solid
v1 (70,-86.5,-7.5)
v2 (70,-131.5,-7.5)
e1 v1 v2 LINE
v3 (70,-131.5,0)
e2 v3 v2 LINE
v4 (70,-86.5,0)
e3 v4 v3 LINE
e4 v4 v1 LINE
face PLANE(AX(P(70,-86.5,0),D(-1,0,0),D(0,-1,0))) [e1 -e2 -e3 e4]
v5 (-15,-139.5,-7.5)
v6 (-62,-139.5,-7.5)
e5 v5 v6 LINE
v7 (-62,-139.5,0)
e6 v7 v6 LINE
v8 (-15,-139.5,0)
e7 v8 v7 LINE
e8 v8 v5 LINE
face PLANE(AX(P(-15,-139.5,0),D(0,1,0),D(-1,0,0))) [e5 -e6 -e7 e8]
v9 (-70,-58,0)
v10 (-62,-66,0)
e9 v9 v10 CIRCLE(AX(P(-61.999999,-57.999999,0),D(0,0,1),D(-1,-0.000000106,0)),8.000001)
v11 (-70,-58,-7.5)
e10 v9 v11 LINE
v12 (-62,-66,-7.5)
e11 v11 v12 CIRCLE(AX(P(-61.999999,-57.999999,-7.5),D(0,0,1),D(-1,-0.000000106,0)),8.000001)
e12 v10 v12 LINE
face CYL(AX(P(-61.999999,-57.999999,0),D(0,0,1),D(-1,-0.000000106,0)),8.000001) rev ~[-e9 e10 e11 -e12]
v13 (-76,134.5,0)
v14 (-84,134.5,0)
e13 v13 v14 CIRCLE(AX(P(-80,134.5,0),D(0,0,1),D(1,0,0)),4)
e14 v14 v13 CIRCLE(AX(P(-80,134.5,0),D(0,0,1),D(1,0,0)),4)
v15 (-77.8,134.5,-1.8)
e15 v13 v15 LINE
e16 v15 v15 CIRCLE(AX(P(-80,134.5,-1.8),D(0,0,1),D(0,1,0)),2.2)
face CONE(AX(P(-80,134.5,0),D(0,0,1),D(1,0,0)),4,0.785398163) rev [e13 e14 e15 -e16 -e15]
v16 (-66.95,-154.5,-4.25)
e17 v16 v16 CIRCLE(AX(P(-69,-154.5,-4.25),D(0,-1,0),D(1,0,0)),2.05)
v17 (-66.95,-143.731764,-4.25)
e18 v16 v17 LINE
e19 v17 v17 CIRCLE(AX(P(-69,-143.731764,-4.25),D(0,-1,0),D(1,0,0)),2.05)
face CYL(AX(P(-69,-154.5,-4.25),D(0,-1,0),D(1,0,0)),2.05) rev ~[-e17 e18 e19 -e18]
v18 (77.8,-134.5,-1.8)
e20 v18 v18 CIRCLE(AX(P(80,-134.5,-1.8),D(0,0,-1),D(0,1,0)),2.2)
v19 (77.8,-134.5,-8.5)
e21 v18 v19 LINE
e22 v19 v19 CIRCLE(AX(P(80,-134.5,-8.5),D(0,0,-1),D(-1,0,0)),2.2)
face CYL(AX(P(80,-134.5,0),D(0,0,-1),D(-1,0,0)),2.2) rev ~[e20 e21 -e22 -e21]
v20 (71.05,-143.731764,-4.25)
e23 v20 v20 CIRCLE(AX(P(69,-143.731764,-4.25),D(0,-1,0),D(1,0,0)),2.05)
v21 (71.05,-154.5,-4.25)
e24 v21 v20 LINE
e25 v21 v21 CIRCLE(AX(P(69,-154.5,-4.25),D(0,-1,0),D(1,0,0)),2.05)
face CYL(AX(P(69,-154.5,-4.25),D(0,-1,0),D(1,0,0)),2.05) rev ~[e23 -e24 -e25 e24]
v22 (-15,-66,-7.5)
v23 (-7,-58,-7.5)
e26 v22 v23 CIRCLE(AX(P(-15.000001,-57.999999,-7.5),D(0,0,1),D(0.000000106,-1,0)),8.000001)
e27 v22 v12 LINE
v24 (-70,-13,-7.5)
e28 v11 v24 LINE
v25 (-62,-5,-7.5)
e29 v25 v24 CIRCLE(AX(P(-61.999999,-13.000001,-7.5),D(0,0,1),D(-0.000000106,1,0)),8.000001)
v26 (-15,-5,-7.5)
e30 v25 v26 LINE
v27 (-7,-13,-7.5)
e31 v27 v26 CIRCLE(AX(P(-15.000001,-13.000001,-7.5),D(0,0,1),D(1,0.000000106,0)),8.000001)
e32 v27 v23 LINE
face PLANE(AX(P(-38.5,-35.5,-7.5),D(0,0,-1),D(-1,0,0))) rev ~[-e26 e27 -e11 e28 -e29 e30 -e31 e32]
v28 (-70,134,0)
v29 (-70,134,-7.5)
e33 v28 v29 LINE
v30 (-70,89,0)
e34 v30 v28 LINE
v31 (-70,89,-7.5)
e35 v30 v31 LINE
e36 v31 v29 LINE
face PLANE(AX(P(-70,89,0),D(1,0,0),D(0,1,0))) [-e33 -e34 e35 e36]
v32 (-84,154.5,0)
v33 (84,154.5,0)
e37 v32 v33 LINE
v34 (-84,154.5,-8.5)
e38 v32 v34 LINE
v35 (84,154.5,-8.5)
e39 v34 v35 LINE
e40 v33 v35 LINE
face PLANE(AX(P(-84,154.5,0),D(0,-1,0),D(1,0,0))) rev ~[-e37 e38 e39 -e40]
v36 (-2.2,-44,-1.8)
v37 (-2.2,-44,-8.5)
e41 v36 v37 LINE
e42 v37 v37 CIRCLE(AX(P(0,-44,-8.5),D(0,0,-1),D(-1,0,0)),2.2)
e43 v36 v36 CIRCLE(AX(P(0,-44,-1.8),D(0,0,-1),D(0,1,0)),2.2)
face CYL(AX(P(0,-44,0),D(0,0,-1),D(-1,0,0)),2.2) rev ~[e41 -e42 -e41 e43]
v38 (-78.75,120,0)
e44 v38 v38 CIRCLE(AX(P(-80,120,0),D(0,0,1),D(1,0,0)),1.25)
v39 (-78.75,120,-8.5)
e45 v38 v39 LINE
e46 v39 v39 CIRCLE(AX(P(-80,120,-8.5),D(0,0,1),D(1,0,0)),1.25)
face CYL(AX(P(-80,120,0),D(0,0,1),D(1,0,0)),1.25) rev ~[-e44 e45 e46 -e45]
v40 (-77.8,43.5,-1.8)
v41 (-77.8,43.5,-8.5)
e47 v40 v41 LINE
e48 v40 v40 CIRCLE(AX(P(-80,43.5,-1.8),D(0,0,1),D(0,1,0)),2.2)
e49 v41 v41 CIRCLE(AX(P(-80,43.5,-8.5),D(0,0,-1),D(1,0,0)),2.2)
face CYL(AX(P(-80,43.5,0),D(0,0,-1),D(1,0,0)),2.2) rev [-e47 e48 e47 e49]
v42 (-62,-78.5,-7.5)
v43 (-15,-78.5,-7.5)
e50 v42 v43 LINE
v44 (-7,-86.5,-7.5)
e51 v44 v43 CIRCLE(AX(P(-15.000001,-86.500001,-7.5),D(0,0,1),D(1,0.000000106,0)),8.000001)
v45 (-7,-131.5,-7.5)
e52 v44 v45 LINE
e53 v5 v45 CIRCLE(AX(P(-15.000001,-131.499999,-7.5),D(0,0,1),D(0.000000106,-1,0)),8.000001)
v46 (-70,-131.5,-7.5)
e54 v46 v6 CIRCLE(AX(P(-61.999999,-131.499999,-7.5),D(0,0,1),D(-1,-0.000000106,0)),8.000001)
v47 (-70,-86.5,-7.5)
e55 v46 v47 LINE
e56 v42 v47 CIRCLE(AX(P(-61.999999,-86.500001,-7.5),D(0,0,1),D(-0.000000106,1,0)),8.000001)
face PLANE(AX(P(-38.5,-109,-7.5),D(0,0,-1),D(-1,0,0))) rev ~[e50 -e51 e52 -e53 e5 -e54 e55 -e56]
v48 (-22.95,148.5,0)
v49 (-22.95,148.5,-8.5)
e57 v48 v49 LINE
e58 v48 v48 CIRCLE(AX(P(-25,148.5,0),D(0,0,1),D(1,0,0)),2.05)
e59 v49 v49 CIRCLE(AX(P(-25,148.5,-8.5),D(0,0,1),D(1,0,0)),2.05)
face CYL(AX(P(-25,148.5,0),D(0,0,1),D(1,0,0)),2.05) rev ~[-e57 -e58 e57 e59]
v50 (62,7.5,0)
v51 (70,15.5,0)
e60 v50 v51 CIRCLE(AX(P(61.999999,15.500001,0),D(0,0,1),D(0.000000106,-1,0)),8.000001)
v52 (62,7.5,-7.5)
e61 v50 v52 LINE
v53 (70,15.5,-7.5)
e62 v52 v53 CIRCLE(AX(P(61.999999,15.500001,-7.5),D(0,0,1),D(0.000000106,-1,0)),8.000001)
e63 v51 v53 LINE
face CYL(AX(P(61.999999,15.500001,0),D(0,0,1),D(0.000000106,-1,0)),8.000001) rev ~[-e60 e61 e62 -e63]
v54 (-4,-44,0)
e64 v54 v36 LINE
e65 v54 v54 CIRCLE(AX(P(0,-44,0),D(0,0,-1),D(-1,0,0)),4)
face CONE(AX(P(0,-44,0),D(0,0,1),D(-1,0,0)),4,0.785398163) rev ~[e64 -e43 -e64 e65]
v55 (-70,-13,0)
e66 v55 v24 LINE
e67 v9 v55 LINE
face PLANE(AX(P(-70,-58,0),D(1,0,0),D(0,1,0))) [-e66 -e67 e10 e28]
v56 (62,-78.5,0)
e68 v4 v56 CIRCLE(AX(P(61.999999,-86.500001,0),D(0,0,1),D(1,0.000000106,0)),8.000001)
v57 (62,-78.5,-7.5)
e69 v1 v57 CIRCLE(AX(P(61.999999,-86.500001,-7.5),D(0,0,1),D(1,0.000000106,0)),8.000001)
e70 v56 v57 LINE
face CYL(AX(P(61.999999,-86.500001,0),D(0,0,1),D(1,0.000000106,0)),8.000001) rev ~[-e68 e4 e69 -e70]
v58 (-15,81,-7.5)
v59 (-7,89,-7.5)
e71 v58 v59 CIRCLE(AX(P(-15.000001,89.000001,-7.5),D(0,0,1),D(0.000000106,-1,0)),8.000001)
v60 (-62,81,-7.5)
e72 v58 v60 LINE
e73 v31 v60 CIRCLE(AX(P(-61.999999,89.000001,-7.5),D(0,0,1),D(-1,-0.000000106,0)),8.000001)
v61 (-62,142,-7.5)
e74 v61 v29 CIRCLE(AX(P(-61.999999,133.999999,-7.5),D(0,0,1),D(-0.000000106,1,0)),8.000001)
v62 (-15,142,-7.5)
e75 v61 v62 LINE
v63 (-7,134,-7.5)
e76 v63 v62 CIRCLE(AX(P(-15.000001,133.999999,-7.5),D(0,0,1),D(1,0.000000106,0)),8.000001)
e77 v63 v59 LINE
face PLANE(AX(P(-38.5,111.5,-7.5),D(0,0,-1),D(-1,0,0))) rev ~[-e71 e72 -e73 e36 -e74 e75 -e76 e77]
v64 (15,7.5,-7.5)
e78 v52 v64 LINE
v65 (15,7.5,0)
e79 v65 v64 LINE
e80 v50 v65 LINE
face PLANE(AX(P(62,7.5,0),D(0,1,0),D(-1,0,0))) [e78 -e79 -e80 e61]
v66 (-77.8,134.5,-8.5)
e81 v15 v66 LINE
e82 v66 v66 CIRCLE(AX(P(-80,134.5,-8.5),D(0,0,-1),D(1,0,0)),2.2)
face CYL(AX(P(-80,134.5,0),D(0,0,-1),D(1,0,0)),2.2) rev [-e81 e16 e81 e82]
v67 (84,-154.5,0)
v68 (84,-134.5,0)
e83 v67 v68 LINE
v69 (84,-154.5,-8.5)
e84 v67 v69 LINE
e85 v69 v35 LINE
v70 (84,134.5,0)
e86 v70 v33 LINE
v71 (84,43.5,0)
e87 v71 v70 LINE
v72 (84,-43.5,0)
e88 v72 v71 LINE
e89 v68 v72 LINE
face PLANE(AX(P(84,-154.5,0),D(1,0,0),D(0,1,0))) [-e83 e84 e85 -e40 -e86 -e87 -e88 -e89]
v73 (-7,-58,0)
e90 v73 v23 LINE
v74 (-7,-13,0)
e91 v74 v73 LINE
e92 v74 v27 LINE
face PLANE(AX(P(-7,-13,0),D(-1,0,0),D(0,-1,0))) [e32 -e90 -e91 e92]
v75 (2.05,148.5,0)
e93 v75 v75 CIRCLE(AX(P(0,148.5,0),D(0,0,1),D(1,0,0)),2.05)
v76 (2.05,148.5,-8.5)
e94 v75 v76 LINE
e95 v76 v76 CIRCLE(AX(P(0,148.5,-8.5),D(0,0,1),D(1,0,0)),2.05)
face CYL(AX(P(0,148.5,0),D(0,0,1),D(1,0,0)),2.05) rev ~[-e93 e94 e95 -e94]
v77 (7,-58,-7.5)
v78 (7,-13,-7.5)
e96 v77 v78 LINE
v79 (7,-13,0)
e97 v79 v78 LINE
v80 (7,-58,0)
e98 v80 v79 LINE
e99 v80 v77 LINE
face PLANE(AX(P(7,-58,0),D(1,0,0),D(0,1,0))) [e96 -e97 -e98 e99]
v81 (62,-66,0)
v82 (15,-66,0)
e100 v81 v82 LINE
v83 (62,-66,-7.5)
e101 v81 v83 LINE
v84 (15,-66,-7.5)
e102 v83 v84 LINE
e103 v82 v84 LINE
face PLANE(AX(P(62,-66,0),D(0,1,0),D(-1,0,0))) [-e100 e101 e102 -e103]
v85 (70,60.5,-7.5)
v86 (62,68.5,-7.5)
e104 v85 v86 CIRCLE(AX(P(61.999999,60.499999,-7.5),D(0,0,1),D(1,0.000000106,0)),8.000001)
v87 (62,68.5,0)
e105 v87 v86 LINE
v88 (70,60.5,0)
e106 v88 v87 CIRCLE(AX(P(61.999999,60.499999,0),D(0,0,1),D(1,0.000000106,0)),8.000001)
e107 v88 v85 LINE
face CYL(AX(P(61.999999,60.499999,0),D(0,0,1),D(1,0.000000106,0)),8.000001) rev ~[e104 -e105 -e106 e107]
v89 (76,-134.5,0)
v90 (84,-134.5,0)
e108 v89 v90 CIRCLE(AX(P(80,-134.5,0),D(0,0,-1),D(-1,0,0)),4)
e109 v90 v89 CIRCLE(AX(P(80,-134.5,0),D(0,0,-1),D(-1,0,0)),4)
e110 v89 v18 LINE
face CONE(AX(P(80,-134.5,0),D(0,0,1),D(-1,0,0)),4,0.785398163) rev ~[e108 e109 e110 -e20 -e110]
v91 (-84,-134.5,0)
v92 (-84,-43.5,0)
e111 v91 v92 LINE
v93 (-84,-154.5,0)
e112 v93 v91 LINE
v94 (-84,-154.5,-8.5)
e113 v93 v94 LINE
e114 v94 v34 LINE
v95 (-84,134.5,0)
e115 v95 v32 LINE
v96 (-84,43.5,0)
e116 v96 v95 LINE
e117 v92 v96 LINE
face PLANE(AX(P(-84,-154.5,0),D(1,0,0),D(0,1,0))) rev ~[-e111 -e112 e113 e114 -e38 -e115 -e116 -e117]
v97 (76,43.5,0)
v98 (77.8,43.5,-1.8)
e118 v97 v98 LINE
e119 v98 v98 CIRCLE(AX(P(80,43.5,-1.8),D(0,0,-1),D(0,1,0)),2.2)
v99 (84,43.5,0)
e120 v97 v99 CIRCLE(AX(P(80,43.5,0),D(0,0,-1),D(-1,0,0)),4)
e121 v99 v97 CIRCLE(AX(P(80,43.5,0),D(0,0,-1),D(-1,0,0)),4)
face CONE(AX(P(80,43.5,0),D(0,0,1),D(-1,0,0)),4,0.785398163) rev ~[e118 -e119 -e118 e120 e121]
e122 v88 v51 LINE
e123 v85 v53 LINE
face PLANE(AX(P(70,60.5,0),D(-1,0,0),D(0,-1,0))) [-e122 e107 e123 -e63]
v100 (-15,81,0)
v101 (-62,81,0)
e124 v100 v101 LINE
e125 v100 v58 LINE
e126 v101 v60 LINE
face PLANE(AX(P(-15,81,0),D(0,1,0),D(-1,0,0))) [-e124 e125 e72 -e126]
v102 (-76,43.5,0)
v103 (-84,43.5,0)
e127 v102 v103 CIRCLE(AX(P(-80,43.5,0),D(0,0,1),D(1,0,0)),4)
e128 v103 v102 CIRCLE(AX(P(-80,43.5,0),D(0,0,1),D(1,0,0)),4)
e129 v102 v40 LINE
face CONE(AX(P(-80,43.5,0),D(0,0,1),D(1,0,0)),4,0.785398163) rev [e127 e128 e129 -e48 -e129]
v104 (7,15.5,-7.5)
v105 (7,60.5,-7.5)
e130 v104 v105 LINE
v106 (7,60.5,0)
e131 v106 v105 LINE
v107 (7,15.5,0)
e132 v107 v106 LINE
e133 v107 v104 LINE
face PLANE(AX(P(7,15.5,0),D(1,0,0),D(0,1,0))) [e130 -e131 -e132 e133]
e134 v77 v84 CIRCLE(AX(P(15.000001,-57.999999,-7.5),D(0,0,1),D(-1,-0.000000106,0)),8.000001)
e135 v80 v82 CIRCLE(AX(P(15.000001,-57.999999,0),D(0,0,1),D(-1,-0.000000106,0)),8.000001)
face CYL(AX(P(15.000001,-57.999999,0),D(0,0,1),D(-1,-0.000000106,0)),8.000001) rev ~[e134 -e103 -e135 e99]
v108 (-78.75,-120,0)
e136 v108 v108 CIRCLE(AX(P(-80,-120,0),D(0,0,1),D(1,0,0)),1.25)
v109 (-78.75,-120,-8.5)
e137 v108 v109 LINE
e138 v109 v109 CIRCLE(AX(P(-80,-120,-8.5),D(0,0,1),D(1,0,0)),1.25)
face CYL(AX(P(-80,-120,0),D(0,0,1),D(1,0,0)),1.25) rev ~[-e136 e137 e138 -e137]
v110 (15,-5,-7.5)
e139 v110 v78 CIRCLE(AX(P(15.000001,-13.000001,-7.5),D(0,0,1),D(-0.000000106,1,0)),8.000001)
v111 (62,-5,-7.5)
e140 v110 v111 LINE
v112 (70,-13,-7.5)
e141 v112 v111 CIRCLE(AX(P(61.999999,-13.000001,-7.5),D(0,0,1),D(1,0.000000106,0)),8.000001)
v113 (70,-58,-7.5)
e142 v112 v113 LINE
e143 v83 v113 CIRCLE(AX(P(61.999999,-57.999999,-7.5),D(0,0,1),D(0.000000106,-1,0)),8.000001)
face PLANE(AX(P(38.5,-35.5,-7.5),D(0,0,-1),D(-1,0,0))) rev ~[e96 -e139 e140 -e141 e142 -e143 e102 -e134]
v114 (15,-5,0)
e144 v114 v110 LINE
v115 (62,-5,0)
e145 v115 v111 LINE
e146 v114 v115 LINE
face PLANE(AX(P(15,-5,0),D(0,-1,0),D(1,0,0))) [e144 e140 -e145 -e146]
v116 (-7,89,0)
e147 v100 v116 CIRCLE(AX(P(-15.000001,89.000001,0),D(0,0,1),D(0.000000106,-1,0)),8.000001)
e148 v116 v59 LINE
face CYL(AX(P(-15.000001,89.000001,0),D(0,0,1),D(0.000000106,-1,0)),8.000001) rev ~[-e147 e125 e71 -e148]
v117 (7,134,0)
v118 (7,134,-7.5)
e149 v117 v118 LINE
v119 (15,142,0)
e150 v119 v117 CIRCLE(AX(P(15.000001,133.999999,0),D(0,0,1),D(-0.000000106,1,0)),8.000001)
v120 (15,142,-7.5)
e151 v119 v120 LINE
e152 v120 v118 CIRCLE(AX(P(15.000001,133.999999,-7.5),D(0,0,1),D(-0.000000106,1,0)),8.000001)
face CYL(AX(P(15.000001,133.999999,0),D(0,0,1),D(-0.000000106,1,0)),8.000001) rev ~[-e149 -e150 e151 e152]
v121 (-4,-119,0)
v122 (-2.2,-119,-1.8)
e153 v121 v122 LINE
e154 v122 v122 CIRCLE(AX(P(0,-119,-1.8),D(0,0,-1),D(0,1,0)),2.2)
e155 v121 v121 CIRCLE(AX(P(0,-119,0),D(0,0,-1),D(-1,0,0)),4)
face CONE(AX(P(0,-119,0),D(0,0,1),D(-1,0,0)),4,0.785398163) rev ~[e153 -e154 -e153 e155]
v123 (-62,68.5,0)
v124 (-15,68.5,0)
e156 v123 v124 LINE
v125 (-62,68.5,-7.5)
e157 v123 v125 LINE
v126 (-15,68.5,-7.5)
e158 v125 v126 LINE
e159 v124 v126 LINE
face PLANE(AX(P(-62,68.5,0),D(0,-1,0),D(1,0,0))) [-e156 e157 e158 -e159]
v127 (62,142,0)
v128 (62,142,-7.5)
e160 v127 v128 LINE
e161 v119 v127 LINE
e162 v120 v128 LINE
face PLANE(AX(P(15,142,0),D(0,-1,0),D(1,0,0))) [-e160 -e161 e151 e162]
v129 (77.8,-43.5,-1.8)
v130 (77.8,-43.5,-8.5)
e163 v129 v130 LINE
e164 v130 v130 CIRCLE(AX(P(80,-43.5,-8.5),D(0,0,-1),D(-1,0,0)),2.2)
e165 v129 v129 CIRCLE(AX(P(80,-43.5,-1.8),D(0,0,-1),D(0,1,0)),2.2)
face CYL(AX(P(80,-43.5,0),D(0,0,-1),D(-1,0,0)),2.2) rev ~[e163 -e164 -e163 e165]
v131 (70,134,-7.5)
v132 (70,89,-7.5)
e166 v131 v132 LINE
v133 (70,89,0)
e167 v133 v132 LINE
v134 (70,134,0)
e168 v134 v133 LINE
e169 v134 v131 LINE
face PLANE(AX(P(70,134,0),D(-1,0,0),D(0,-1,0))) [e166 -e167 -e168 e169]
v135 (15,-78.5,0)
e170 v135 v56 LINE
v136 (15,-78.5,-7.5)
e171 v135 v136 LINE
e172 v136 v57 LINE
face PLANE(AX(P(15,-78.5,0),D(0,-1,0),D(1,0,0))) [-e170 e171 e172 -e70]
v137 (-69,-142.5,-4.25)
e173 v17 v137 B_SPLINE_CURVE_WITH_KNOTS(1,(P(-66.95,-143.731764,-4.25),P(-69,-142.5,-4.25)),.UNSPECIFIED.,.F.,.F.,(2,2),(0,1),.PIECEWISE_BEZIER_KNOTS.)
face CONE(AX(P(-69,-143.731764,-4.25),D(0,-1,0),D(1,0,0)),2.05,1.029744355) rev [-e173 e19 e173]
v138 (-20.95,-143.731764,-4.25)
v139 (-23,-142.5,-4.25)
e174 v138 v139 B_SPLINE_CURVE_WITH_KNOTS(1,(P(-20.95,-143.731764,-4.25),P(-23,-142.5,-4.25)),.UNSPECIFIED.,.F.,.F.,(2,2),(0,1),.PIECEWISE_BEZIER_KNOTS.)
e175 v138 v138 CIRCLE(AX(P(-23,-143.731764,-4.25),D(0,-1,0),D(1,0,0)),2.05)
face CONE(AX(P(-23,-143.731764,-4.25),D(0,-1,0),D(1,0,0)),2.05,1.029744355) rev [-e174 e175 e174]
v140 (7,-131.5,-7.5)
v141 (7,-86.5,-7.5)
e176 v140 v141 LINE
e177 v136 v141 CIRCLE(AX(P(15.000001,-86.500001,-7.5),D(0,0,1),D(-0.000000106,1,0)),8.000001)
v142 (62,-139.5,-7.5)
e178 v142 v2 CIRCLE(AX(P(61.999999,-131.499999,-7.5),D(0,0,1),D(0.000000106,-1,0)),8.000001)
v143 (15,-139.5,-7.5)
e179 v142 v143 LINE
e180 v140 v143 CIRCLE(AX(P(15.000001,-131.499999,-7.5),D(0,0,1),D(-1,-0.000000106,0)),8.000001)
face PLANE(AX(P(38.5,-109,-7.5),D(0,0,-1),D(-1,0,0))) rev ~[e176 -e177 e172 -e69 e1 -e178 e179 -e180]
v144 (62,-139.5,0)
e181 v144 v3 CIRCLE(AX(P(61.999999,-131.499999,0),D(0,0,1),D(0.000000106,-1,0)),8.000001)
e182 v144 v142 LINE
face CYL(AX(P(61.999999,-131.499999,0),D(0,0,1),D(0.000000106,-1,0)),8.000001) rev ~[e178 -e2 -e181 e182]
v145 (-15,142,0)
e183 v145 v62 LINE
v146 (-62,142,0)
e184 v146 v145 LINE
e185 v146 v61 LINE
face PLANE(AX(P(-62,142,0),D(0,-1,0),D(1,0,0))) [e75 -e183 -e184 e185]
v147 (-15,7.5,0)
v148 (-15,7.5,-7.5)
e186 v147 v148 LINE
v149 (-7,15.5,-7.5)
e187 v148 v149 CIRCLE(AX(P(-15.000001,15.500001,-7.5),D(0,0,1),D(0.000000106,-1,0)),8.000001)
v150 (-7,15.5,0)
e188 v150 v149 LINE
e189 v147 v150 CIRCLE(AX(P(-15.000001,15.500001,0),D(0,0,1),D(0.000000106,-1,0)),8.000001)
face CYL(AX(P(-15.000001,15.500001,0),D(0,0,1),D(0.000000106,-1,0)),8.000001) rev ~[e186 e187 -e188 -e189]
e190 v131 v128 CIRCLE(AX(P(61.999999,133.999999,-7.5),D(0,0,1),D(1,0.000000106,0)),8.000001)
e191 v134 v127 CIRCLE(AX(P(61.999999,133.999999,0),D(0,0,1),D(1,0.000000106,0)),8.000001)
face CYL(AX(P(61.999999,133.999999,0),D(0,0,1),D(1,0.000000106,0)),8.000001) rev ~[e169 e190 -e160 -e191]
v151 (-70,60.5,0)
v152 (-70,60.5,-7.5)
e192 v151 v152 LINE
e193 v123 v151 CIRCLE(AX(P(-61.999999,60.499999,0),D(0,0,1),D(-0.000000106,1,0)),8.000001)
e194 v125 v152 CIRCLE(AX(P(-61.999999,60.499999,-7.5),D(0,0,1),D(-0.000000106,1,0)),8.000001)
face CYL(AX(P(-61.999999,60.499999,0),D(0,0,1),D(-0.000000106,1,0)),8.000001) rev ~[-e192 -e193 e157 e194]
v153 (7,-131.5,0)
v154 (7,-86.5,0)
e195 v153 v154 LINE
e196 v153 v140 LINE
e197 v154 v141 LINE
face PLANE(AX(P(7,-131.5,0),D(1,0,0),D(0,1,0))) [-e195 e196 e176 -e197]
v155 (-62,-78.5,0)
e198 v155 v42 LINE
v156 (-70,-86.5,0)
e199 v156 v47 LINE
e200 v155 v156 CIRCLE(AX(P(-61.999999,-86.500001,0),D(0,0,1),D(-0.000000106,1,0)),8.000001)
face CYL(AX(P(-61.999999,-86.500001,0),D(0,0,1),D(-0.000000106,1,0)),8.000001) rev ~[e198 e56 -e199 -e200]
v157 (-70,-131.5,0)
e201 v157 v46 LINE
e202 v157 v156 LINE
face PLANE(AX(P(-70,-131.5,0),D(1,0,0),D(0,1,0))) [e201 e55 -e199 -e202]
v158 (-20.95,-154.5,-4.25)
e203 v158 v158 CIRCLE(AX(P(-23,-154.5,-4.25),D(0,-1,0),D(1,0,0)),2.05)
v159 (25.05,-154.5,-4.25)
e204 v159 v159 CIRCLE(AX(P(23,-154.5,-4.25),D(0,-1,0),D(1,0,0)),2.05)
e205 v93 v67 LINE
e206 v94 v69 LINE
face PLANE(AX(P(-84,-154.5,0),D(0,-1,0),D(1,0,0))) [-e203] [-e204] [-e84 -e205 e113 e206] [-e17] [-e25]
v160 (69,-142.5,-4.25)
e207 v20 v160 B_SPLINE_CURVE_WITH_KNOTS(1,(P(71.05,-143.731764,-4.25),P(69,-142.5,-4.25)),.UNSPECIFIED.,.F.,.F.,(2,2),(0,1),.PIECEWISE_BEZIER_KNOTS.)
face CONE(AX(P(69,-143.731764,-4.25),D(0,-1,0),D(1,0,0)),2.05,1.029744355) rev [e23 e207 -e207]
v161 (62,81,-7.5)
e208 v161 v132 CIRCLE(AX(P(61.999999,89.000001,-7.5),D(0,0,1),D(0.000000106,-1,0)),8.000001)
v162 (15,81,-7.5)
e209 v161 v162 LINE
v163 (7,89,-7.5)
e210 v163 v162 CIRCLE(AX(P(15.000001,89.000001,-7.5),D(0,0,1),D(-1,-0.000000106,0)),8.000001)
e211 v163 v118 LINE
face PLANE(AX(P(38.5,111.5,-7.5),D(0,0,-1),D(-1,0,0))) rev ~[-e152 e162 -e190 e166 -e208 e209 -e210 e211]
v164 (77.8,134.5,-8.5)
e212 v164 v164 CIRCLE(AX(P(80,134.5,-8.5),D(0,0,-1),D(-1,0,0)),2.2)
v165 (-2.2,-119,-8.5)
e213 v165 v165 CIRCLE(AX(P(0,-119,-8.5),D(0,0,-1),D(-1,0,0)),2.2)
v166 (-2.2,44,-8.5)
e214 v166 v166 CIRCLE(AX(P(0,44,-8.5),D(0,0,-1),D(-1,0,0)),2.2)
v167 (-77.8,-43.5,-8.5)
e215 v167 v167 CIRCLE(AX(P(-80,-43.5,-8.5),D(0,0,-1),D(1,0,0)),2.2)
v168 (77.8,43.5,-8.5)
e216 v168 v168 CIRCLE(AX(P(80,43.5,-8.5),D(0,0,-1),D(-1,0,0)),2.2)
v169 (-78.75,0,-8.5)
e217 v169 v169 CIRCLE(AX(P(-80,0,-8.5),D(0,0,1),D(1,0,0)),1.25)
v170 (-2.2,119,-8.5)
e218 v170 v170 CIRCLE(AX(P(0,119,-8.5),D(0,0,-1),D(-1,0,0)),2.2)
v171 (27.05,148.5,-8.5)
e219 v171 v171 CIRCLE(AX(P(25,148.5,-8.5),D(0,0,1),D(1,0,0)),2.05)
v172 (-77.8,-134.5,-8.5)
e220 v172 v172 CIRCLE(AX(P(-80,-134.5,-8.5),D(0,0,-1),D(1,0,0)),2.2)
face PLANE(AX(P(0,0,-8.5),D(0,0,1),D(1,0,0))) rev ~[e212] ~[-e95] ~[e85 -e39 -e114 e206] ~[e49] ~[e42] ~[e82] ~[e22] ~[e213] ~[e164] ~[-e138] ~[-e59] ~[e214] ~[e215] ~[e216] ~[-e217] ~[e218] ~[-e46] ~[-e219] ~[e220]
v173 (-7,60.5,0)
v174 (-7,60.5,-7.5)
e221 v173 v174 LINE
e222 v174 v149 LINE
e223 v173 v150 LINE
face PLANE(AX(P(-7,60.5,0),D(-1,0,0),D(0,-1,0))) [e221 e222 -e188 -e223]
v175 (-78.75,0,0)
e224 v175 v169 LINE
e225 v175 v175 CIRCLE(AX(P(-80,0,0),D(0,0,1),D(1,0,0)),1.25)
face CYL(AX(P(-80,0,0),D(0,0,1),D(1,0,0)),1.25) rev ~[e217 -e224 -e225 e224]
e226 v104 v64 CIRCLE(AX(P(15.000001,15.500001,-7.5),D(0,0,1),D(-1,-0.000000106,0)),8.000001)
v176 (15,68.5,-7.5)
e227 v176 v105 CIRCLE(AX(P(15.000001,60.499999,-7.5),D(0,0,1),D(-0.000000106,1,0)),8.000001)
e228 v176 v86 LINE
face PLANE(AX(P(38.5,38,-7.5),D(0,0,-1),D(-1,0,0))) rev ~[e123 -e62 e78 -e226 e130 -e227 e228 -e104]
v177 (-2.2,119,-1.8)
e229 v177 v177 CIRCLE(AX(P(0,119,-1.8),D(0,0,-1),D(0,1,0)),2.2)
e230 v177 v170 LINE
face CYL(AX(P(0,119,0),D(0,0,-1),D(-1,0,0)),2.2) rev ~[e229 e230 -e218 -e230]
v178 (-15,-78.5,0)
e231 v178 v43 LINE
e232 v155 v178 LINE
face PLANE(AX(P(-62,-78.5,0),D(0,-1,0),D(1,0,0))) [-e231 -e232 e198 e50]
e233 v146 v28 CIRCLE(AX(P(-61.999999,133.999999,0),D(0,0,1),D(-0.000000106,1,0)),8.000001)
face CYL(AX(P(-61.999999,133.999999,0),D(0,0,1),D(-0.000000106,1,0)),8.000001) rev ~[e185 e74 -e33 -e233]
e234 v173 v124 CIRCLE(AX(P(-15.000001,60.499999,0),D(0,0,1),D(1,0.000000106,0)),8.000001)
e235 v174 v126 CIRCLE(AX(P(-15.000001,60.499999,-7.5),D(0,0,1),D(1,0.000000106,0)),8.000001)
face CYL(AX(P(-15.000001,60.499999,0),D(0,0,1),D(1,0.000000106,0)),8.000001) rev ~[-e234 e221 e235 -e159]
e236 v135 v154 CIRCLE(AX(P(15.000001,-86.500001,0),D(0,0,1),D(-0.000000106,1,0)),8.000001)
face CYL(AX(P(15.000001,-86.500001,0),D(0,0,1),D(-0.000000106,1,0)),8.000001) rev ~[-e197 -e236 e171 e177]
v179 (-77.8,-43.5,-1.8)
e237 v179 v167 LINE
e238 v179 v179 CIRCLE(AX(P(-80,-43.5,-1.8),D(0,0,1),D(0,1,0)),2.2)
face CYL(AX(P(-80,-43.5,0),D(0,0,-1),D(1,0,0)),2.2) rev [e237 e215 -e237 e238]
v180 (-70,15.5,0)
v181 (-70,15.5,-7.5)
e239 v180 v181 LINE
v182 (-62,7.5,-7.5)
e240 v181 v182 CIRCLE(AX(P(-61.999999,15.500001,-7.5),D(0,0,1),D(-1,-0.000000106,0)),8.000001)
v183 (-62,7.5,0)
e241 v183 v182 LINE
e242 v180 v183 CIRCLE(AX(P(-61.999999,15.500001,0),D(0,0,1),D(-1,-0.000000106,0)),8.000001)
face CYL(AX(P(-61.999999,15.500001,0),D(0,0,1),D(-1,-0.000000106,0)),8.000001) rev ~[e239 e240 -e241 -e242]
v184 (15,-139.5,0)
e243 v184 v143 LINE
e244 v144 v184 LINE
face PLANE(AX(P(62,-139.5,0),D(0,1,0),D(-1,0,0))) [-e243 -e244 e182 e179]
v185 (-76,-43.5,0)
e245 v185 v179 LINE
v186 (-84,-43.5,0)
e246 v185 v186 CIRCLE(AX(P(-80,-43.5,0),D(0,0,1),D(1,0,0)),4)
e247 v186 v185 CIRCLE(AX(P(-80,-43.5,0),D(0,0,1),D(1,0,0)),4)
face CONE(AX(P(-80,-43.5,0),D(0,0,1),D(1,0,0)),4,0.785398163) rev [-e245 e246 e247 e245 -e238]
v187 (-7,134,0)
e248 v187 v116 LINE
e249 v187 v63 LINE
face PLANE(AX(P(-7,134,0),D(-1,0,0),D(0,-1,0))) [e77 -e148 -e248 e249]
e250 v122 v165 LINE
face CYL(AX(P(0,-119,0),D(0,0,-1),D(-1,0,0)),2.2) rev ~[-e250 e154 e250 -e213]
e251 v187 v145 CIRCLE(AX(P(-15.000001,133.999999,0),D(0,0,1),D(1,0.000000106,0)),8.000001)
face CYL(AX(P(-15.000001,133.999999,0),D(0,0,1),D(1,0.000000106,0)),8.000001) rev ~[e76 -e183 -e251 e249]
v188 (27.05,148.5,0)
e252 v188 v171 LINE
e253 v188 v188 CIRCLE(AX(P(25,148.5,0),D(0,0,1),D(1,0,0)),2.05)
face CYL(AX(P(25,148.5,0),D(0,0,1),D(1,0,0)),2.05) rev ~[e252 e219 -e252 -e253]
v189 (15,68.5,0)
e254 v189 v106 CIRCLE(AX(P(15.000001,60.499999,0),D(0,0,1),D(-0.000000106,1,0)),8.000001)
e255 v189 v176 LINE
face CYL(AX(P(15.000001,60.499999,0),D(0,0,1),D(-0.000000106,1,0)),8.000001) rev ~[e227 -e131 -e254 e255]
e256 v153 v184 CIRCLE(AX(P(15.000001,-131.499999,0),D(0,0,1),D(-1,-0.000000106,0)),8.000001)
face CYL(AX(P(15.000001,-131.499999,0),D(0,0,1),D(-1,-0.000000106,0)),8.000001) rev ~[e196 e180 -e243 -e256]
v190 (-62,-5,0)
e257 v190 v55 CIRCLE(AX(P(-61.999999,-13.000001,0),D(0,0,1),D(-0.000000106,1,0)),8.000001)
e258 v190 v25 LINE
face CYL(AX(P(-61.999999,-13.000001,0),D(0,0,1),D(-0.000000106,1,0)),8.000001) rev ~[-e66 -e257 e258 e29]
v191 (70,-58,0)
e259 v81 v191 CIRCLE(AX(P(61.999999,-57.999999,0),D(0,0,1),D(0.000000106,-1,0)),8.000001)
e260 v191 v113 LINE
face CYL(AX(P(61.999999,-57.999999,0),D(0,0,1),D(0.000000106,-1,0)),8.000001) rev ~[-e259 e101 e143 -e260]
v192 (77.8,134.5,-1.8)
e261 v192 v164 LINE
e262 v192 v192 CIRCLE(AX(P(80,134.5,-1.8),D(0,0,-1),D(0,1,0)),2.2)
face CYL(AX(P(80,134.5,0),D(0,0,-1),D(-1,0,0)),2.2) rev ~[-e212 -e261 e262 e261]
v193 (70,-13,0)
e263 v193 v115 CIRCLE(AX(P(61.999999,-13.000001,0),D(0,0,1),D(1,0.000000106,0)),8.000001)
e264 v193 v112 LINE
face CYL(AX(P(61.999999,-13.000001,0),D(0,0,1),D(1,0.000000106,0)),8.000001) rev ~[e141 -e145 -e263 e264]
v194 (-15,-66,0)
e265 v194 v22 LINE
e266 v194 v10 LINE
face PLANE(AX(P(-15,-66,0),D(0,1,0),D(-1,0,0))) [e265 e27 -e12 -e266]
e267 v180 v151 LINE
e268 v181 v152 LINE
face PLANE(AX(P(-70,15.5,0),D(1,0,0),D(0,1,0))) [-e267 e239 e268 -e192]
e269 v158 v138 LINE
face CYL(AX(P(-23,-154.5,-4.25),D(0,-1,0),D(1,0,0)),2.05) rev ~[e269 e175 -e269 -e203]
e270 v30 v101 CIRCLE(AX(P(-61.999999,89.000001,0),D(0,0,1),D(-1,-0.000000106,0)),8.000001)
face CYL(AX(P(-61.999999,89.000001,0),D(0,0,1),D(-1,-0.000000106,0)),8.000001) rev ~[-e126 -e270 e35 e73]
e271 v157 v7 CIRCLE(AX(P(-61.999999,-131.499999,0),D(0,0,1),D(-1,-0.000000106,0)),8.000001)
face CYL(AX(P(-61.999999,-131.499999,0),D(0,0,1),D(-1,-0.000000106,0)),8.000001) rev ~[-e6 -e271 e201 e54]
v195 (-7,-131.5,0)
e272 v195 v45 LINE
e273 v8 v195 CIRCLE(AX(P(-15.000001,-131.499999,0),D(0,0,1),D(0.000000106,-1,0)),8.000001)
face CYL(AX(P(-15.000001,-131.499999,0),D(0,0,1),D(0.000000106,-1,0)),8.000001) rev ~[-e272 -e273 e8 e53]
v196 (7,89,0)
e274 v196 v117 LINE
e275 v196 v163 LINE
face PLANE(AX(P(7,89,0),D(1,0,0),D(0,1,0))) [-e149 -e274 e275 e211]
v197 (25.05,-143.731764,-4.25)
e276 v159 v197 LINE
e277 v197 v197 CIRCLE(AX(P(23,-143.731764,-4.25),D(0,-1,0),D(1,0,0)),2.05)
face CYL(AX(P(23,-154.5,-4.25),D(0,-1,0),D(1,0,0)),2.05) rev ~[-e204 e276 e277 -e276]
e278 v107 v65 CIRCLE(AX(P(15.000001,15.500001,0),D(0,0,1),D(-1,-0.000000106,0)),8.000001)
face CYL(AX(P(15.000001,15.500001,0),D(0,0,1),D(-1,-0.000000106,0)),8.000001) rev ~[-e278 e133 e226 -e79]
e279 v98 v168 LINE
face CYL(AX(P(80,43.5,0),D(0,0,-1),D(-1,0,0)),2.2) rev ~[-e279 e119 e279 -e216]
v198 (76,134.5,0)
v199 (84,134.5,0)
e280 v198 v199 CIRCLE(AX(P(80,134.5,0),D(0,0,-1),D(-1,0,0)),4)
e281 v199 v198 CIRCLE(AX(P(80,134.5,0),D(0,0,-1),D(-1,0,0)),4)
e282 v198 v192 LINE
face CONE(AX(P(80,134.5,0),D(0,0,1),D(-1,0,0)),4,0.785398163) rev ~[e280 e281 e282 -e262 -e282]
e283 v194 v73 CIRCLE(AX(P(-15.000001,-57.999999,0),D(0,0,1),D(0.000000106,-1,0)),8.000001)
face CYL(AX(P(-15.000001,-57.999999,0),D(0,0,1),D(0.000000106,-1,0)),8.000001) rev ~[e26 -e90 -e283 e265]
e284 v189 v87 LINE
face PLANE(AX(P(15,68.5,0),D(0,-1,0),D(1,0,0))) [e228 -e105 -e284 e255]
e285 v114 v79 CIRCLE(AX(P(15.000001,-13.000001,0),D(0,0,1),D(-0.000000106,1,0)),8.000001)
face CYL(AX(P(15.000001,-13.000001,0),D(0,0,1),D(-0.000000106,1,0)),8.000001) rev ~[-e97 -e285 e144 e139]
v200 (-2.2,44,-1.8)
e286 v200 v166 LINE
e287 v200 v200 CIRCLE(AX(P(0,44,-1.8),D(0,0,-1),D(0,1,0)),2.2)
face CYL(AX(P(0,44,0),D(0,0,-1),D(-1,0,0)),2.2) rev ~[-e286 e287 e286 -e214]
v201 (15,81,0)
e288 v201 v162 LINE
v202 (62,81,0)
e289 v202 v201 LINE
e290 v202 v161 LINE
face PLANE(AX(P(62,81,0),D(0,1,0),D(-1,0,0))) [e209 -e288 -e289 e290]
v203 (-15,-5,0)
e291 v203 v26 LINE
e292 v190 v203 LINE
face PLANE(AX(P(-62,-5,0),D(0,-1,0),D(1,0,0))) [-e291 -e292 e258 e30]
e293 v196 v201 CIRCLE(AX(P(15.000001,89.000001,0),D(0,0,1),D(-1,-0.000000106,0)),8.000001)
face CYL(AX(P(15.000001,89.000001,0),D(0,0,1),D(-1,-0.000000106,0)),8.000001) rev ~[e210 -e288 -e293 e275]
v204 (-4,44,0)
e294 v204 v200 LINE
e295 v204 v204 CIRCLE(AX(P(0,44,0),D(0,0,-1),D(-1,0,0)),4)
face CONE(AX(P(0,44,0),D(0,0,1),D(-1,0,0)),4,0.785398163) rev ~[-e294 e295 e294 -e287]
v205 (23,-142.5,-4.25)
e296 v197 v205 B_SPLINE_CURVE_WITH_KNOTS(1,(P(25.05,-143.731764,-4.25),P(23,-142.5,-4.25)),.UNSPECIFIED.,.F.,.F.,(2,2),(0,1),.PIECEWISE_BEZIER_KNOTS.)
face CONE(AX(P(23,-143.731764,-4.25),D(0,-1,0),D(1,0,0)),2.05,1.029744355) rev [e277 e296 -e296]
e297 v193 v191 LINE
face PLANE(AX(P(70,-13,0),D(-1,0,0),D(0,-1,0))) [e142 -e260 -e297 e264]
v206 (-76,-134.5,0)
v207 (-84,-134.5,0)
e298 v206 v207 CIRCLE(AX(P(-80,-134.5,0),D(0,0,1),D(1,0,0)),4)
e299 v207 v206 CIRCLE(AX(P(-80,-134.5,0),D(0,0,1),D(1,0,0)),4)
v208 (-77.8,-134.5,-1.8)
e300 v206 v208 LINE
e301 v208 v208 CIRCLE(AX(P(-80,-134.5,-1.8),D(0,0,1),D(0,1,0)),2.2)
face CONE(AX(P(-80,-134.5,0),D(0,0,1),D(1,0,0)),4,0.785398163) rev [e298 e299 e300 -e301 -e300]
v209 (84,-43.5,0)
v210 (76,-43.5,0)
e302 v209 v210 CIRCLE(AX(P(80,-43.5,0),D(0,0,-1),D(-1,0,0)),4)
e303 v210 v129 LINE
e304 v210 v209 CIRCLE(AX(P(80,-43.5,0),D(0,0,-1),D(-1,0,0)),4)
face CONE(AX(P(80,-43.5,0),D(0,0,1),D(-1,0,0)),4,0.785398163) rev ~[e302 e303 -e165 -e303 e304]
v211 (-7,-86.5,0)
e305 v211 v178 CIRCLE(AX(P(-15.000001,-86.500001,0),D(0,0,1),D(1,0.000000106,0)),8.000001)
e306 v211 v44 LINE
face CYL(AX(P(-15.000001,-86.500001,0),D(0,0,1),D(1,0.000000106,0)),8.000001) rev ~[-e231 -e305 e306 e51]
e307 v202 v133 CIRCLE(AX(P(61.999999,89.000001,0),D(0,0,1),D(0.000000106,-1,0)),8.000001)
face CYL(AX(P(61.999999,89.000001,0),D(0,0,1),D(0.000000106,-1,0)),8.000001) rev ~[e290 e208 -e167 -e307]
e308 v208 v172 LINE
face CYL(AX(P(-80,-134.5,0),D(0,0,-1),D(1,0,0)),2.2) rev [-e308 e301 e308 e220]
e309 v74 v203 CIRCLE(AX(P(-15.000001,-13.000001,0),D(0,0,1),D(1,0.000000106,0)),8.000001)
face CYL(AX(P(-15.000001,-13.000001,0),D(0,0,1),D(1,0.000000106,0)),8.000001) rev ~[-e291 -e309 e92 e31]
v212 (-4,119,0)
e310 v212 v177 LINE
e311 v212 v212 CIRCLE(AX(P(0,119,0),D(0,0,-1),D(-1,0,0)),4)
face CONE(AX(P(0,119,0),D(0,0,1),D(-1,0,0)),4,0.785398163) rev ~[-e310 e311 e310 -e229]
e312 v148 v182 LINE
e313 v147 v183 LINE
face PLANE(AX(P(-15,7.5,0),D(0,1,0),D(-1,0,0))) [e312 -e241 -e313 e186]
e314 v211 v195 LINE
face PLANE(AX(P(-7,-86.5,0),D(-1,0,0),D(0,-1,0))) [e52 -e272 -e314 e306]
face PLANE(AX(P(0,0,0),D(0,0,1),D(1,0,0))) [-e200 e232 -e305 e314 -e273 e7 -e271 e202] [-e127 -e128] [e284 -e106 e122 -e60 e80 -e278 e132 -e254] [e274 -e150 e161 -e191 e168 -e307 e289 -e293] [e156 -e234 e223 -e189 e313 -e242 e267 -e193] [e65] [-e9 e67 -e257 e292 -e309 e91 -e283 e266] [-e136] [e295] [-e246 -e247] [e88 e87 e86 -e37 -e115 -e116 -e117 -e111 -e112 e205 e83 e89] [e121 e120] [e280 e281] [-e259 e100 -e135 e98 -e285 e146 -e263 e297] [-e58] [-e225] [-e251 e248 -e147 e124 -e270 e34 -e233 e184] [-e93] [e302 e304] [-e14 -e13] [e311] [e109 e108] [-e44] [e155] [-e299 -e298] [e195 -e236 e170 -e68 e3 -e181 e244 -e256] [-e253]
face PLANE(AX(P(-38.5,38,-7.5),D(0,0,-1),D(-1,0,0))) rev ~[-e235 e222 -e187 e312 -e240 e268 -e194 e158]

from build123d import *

# Parameters (mm, degrees)
SKETCH_W            = 168
SKETCH_H            = 309
PAD_DEPTH           = 8.5
POCKET_DEPTH        = 7.5
HOLE_D              = 4.4
HOLE_DEPTH          = 25
HOLE_CSINK_D        = 8
HOLE_CSINK_ANGLE    = 90
HOLE001_D           = 4.4
HOLE001_DEPTH       = 25
HOLE001_CSINK_D     = 8
HOLE001_CSINK_ANGLE = 90
SKETCH003_R         = 2.05
HOLE002_DEPTH       = 10.768236
HOLE002_TIPS_R      = 2.05
SKETCH005_R         = 2.05
HOLE003_DEPTH       = 8.501
SKETCH006_R         = 1.25
HOLE004_DEPTH       = 25


with BuildPart() as part:
    # Sketch → Pad (new body)
    with BuildSketch(Plane.XY):
        Rectangle(SKETCH_W, SKETCH_H)
    extrude(amount=-PAD_DEPTH)

    # Sketch001 → Pocket (cut)
    with BuildSketch(Plane.XY):
        with BuildLine():
            Line((-62, -78.5), (-15, -78.5))
            ThreePointArc((-7, -86.5), (-9.343146, -80.843146), (-15, -78.5))
            Line((-7, -86.5), (-7, -131.5))
            ThreePointArc((-15, -139.5), (-9.343146, -137.156854), (-7, -131.5))
            Line((-15, -139.5), (-62, -139.5))
            ThreePointArc((-70, -131.5), (-67.656854, -137.156854), (-62, -139.5))
            Line((-70, -131.5), (-70, -86.5))
            ThreePointArc((-62, -78.5), (-67.656854, -80.843146), (-70, -86.5))
        make_face()
        with BuildLine():
            Line((15, -78.5), (62, -78.5))
            ThreePointArc((70, -86.5), (67.656854, -80.843146), (62, -78.5))
            Line((70, -86.5), (70, -131.5))
            ThreePointArc((62, -139.5), (67.656854, -137.156854), (70, -131.5))
            Line((62, -139.5), (15, -139.5))
            ThreePointArc((7, -131.5), (9.343146, -137.156854), (15, -139.5))
            Line((7, -131.5), (7, -86.5))
            ThreePointArc((15, -78.5), (9.343146, -80.843146), (7, -86.5))
        make_face()
        with BuildLine():
            Line((-62, -5), (-15, -5))
            ThreePointArc((-7, -13), (-9.343146, -7.343146), (-15, -5))
            Line((-7, -13), (-7, -58))
            ThreePointArc((-15, -66), (-9.343146, -63.656854), (-7, -58))
            Line((-15, -66), (-62, -66))
            ThreePointArc((-70, -58), (-67.656854, -63.656854), (-62, -66))
            Line((-70, -58), (-70, -13))
            ThreePointArc((-62, -5), (-67.656854, -7.343146), (-70, -13))
        make_face()
        with BuildLine():
            Line((15, -5), (62, -5))
            ThreePointArc((70, -13), (67.656854, -7.343146), (62, -5))
            Line((70, -13), (70, -58))
            ThreePointArc((62, -66), (67.656854, -63.656854), (70, -58))
            Line((62, -66), (15, -66))
            ThreePointArc((7, -58), (9.343146, -63.656854), (15, -66))
            Line((7, -58), (7, -13))
            ThreePointArc((15, -5), (9.343146, -7.343146), (7, -13))
        make_face()
        with BuildLine():
            Line((-62, 68.5), (-15, 68.5))
            ThreePointArc((-7, 60.5), (-9.343146, 66.156854), (-15, 68.5))
            Line((-7, 60.5), (-7, 15.5))
            ThreePointArc((-15, 7.5), (-9.343146, 9.843146), (-7, 15.5))
            Line((-15, 7.5), (-62, 7.5))
            ThreePointArc((-70, 15.5), (-67.656854, 9.843146), (-62, 7.5))
            Line((-70, 15.5), (-70, 60.5))
            ThreePointArc((-62, 68.5), (-67.656854, 66.156854), (-70, 60.5))
        make_face()
        with BuildLine():
            Line((15, 68.5), (62, 68.5))
            ThreePointArc((70, 60.5), (67.656854, 66.156854), (62, 68.5))
            Line((70, 60.5), (70, 15.5))
            ThreePointArc((62, 7.5), (67.656854, 9.843146), (70, 15.5))
            Line((62, 7.5), (15, 7.5))
            ThreePointArc((7, 15.5), (9.343146, 9.843146), (15, 7.5))
            Line((7, 15.5), (7, 60.5))
            ThreePointArc((15, 68.5), (9.343146, 66.156854), (7, 60.5))
        make_face()
        with BuildLine():
            Line((-62, 142), (-15, 142))
            ThreePointArc((-7, 134), (-9.343146, 139.656854), (-15, 142))
            Line((-7, 134), (-7, 89))
            ThreePointArc((-15, 81), (-9.343146, 83.343146), (-7, 89))
            Line((-15, 81), (-62, 81))
            ThreePointArc((-70, 89), (-67.656854, 83.343146), (-62, 81))
            Line((-70, 89), (-70, 134))
            ThreePointArc((-62, 142), (-67.656854, 139.656854), (-70, 134))
        make_face()
        with BuildLine():
            Line((15, 142), (62, 142))
            ThreePointArc((70, 134), (67.656854, 139.656854), (62, 142))
            Line((70, 134), (70, 89))
            ThreePointArc((62, 81), (67.656854, 83.343146), (70, 89))
            Line((62, 81), (15, 81))
            ThreePointArc((7, 89), (9.343146, 83.343146), (15, 81))
            Line((7, 89), (7, 134))
            ThreePointArc((15, 142), (9.343146, 139.656854), (7, 134))
        make_face()
    extrude(amount=-POCKET_DEPTH, mode=Mode.SUBTRACT)

    # Hole
    with Locations(Plane.XY):
        with Locations((80, 134.5), (80, 43.5), (80, -43.5), (80, -134.5)):
            hole = CounterSinkHole(HOLE_D / 2, HOLE_CSINK_D / 2, depth=HOLE_DEPTH, counter_sink_angle=HOLE_CSINK_ANGLE)

    # Mirrored: Hole across Sketch002 V_Axis
    add(hole.mirror(Plane(origin=(0, 0, 0), x_dir=(0, 0, 1), z_dir=(1, 0, 0))), mode=Mode.SUBTRACT)

    # Hole001
    with Locations(Plane.XY):
        with Locations((0, 119), (0, 44), (0, -44), (0, -119)):
            CounterSinkHole(HOLE001_D / 2, HOLE001_CSINK_D / 2, depth=HOLE001_DEPTH, counter_sink_angle=HOLE001_CSINK_ANGLE)

    # Sketch003 (on DatumPlane) → Hole002 (cut)
    with BuildSketch(Plane.XZ.offset(154.5)):
        with Locations((-69, -4.25)):
            Circle(SKETCH003_R)
        with Locations((-23, -4.25)):
            Circle(SKETCH003_R)
        with Locations((23, -4.25)):
            Circle(SKETCH003_R)
        with Locations((69, -4.25)):
            Circle(SKETCH003_R)
    extrude(amount=-HOLE002_DEPTH, mode=Mode.SUBTRACT)

    # Hole002 tips → Hole002 tip 1 section 0
    with BuildSketch(Plane.XZ.offset(143.731764), mode=Mode.PRIVATE) as hole002_tip_1_s0:
        with Locations((-69, -4.25)):
            Circle(HOLE002_TIPS_R)
    loft([hole002_tip_1_s0.sketch, Vertex(-69, -142.5, -4.25)], mode=Mode.SUBTRACT)

    # Hole002 tips → Hole002 tip 2 section 0
    with BuildSketch(Plane.XZ.offset(143.731764), mode=Mode.PRIVATE) as hole002_tip_2_s0:
        with Locations((-23, -4.25)):
            Circle(HOLE002_TIPS_R)
    loft([hole002_tip_2_s0.sketch, Vertex(-23, -142.5, -4.25)], mode=Mode.SUBTRACT)

    # Hole002 tips → Hole002 tip 3 section 0
    with BuildSketch(Plane.XZ.offset(143.731764), mode=Mode.PRIVATE) as hole002_tip_3_s0:
        with Locations((23, -4.25)):
            Circle(HOLE002_TIPS_R)
    loft([hole002_tip_3_s0.sketch, Vertex(23, -142.5, -4.25)], mode=Mode.SUBTRACT)

    # Hole002 tips → Hole002 tip 4 section 0
    with BuildSketch(Plane.XZ.offset(143.731764), mode=Mode.PRIVATE) as hole002_tip_4_s0:
        with Locations((69, -4.25)):
            Circle(HOLE002_TIPS_R)
    loft([hole002_tip_4_s0.sketch, Vertex(69, -142.5, -4.25)], mode=Mode.SUBTRACT)

    # Sketch005 → Hole003 (cut, through all)
    with BuildSketch(Plane.XY):
        with Locations((25, 148.5)):
            Circle(SKETCH005_R)
        with Locations((0, 148.5)):
            Circle(SKETCH005_R)
        with Locations((-25, 148.5)):
            Circle(SKETCH005_R)
    extrude(amount=-HOLE003_DEPTH, mode=Mode.SUBTRACT)

    # Sketch006 → Hole004 (cut)
    with BuildSketch(Plane.XY):
        with Locations((-80, 120)):
            Circle(SKETCH006_R)
        with Locations((-80, 0)):
            Circle(SKETCH006_R)
        with Locations((-80, -120)):
            Circle(SKETCH006_R)
    extrude(amount=-HOLE004_DEPTH, mode=Mode.SUBTRACT)


solid = part.part
